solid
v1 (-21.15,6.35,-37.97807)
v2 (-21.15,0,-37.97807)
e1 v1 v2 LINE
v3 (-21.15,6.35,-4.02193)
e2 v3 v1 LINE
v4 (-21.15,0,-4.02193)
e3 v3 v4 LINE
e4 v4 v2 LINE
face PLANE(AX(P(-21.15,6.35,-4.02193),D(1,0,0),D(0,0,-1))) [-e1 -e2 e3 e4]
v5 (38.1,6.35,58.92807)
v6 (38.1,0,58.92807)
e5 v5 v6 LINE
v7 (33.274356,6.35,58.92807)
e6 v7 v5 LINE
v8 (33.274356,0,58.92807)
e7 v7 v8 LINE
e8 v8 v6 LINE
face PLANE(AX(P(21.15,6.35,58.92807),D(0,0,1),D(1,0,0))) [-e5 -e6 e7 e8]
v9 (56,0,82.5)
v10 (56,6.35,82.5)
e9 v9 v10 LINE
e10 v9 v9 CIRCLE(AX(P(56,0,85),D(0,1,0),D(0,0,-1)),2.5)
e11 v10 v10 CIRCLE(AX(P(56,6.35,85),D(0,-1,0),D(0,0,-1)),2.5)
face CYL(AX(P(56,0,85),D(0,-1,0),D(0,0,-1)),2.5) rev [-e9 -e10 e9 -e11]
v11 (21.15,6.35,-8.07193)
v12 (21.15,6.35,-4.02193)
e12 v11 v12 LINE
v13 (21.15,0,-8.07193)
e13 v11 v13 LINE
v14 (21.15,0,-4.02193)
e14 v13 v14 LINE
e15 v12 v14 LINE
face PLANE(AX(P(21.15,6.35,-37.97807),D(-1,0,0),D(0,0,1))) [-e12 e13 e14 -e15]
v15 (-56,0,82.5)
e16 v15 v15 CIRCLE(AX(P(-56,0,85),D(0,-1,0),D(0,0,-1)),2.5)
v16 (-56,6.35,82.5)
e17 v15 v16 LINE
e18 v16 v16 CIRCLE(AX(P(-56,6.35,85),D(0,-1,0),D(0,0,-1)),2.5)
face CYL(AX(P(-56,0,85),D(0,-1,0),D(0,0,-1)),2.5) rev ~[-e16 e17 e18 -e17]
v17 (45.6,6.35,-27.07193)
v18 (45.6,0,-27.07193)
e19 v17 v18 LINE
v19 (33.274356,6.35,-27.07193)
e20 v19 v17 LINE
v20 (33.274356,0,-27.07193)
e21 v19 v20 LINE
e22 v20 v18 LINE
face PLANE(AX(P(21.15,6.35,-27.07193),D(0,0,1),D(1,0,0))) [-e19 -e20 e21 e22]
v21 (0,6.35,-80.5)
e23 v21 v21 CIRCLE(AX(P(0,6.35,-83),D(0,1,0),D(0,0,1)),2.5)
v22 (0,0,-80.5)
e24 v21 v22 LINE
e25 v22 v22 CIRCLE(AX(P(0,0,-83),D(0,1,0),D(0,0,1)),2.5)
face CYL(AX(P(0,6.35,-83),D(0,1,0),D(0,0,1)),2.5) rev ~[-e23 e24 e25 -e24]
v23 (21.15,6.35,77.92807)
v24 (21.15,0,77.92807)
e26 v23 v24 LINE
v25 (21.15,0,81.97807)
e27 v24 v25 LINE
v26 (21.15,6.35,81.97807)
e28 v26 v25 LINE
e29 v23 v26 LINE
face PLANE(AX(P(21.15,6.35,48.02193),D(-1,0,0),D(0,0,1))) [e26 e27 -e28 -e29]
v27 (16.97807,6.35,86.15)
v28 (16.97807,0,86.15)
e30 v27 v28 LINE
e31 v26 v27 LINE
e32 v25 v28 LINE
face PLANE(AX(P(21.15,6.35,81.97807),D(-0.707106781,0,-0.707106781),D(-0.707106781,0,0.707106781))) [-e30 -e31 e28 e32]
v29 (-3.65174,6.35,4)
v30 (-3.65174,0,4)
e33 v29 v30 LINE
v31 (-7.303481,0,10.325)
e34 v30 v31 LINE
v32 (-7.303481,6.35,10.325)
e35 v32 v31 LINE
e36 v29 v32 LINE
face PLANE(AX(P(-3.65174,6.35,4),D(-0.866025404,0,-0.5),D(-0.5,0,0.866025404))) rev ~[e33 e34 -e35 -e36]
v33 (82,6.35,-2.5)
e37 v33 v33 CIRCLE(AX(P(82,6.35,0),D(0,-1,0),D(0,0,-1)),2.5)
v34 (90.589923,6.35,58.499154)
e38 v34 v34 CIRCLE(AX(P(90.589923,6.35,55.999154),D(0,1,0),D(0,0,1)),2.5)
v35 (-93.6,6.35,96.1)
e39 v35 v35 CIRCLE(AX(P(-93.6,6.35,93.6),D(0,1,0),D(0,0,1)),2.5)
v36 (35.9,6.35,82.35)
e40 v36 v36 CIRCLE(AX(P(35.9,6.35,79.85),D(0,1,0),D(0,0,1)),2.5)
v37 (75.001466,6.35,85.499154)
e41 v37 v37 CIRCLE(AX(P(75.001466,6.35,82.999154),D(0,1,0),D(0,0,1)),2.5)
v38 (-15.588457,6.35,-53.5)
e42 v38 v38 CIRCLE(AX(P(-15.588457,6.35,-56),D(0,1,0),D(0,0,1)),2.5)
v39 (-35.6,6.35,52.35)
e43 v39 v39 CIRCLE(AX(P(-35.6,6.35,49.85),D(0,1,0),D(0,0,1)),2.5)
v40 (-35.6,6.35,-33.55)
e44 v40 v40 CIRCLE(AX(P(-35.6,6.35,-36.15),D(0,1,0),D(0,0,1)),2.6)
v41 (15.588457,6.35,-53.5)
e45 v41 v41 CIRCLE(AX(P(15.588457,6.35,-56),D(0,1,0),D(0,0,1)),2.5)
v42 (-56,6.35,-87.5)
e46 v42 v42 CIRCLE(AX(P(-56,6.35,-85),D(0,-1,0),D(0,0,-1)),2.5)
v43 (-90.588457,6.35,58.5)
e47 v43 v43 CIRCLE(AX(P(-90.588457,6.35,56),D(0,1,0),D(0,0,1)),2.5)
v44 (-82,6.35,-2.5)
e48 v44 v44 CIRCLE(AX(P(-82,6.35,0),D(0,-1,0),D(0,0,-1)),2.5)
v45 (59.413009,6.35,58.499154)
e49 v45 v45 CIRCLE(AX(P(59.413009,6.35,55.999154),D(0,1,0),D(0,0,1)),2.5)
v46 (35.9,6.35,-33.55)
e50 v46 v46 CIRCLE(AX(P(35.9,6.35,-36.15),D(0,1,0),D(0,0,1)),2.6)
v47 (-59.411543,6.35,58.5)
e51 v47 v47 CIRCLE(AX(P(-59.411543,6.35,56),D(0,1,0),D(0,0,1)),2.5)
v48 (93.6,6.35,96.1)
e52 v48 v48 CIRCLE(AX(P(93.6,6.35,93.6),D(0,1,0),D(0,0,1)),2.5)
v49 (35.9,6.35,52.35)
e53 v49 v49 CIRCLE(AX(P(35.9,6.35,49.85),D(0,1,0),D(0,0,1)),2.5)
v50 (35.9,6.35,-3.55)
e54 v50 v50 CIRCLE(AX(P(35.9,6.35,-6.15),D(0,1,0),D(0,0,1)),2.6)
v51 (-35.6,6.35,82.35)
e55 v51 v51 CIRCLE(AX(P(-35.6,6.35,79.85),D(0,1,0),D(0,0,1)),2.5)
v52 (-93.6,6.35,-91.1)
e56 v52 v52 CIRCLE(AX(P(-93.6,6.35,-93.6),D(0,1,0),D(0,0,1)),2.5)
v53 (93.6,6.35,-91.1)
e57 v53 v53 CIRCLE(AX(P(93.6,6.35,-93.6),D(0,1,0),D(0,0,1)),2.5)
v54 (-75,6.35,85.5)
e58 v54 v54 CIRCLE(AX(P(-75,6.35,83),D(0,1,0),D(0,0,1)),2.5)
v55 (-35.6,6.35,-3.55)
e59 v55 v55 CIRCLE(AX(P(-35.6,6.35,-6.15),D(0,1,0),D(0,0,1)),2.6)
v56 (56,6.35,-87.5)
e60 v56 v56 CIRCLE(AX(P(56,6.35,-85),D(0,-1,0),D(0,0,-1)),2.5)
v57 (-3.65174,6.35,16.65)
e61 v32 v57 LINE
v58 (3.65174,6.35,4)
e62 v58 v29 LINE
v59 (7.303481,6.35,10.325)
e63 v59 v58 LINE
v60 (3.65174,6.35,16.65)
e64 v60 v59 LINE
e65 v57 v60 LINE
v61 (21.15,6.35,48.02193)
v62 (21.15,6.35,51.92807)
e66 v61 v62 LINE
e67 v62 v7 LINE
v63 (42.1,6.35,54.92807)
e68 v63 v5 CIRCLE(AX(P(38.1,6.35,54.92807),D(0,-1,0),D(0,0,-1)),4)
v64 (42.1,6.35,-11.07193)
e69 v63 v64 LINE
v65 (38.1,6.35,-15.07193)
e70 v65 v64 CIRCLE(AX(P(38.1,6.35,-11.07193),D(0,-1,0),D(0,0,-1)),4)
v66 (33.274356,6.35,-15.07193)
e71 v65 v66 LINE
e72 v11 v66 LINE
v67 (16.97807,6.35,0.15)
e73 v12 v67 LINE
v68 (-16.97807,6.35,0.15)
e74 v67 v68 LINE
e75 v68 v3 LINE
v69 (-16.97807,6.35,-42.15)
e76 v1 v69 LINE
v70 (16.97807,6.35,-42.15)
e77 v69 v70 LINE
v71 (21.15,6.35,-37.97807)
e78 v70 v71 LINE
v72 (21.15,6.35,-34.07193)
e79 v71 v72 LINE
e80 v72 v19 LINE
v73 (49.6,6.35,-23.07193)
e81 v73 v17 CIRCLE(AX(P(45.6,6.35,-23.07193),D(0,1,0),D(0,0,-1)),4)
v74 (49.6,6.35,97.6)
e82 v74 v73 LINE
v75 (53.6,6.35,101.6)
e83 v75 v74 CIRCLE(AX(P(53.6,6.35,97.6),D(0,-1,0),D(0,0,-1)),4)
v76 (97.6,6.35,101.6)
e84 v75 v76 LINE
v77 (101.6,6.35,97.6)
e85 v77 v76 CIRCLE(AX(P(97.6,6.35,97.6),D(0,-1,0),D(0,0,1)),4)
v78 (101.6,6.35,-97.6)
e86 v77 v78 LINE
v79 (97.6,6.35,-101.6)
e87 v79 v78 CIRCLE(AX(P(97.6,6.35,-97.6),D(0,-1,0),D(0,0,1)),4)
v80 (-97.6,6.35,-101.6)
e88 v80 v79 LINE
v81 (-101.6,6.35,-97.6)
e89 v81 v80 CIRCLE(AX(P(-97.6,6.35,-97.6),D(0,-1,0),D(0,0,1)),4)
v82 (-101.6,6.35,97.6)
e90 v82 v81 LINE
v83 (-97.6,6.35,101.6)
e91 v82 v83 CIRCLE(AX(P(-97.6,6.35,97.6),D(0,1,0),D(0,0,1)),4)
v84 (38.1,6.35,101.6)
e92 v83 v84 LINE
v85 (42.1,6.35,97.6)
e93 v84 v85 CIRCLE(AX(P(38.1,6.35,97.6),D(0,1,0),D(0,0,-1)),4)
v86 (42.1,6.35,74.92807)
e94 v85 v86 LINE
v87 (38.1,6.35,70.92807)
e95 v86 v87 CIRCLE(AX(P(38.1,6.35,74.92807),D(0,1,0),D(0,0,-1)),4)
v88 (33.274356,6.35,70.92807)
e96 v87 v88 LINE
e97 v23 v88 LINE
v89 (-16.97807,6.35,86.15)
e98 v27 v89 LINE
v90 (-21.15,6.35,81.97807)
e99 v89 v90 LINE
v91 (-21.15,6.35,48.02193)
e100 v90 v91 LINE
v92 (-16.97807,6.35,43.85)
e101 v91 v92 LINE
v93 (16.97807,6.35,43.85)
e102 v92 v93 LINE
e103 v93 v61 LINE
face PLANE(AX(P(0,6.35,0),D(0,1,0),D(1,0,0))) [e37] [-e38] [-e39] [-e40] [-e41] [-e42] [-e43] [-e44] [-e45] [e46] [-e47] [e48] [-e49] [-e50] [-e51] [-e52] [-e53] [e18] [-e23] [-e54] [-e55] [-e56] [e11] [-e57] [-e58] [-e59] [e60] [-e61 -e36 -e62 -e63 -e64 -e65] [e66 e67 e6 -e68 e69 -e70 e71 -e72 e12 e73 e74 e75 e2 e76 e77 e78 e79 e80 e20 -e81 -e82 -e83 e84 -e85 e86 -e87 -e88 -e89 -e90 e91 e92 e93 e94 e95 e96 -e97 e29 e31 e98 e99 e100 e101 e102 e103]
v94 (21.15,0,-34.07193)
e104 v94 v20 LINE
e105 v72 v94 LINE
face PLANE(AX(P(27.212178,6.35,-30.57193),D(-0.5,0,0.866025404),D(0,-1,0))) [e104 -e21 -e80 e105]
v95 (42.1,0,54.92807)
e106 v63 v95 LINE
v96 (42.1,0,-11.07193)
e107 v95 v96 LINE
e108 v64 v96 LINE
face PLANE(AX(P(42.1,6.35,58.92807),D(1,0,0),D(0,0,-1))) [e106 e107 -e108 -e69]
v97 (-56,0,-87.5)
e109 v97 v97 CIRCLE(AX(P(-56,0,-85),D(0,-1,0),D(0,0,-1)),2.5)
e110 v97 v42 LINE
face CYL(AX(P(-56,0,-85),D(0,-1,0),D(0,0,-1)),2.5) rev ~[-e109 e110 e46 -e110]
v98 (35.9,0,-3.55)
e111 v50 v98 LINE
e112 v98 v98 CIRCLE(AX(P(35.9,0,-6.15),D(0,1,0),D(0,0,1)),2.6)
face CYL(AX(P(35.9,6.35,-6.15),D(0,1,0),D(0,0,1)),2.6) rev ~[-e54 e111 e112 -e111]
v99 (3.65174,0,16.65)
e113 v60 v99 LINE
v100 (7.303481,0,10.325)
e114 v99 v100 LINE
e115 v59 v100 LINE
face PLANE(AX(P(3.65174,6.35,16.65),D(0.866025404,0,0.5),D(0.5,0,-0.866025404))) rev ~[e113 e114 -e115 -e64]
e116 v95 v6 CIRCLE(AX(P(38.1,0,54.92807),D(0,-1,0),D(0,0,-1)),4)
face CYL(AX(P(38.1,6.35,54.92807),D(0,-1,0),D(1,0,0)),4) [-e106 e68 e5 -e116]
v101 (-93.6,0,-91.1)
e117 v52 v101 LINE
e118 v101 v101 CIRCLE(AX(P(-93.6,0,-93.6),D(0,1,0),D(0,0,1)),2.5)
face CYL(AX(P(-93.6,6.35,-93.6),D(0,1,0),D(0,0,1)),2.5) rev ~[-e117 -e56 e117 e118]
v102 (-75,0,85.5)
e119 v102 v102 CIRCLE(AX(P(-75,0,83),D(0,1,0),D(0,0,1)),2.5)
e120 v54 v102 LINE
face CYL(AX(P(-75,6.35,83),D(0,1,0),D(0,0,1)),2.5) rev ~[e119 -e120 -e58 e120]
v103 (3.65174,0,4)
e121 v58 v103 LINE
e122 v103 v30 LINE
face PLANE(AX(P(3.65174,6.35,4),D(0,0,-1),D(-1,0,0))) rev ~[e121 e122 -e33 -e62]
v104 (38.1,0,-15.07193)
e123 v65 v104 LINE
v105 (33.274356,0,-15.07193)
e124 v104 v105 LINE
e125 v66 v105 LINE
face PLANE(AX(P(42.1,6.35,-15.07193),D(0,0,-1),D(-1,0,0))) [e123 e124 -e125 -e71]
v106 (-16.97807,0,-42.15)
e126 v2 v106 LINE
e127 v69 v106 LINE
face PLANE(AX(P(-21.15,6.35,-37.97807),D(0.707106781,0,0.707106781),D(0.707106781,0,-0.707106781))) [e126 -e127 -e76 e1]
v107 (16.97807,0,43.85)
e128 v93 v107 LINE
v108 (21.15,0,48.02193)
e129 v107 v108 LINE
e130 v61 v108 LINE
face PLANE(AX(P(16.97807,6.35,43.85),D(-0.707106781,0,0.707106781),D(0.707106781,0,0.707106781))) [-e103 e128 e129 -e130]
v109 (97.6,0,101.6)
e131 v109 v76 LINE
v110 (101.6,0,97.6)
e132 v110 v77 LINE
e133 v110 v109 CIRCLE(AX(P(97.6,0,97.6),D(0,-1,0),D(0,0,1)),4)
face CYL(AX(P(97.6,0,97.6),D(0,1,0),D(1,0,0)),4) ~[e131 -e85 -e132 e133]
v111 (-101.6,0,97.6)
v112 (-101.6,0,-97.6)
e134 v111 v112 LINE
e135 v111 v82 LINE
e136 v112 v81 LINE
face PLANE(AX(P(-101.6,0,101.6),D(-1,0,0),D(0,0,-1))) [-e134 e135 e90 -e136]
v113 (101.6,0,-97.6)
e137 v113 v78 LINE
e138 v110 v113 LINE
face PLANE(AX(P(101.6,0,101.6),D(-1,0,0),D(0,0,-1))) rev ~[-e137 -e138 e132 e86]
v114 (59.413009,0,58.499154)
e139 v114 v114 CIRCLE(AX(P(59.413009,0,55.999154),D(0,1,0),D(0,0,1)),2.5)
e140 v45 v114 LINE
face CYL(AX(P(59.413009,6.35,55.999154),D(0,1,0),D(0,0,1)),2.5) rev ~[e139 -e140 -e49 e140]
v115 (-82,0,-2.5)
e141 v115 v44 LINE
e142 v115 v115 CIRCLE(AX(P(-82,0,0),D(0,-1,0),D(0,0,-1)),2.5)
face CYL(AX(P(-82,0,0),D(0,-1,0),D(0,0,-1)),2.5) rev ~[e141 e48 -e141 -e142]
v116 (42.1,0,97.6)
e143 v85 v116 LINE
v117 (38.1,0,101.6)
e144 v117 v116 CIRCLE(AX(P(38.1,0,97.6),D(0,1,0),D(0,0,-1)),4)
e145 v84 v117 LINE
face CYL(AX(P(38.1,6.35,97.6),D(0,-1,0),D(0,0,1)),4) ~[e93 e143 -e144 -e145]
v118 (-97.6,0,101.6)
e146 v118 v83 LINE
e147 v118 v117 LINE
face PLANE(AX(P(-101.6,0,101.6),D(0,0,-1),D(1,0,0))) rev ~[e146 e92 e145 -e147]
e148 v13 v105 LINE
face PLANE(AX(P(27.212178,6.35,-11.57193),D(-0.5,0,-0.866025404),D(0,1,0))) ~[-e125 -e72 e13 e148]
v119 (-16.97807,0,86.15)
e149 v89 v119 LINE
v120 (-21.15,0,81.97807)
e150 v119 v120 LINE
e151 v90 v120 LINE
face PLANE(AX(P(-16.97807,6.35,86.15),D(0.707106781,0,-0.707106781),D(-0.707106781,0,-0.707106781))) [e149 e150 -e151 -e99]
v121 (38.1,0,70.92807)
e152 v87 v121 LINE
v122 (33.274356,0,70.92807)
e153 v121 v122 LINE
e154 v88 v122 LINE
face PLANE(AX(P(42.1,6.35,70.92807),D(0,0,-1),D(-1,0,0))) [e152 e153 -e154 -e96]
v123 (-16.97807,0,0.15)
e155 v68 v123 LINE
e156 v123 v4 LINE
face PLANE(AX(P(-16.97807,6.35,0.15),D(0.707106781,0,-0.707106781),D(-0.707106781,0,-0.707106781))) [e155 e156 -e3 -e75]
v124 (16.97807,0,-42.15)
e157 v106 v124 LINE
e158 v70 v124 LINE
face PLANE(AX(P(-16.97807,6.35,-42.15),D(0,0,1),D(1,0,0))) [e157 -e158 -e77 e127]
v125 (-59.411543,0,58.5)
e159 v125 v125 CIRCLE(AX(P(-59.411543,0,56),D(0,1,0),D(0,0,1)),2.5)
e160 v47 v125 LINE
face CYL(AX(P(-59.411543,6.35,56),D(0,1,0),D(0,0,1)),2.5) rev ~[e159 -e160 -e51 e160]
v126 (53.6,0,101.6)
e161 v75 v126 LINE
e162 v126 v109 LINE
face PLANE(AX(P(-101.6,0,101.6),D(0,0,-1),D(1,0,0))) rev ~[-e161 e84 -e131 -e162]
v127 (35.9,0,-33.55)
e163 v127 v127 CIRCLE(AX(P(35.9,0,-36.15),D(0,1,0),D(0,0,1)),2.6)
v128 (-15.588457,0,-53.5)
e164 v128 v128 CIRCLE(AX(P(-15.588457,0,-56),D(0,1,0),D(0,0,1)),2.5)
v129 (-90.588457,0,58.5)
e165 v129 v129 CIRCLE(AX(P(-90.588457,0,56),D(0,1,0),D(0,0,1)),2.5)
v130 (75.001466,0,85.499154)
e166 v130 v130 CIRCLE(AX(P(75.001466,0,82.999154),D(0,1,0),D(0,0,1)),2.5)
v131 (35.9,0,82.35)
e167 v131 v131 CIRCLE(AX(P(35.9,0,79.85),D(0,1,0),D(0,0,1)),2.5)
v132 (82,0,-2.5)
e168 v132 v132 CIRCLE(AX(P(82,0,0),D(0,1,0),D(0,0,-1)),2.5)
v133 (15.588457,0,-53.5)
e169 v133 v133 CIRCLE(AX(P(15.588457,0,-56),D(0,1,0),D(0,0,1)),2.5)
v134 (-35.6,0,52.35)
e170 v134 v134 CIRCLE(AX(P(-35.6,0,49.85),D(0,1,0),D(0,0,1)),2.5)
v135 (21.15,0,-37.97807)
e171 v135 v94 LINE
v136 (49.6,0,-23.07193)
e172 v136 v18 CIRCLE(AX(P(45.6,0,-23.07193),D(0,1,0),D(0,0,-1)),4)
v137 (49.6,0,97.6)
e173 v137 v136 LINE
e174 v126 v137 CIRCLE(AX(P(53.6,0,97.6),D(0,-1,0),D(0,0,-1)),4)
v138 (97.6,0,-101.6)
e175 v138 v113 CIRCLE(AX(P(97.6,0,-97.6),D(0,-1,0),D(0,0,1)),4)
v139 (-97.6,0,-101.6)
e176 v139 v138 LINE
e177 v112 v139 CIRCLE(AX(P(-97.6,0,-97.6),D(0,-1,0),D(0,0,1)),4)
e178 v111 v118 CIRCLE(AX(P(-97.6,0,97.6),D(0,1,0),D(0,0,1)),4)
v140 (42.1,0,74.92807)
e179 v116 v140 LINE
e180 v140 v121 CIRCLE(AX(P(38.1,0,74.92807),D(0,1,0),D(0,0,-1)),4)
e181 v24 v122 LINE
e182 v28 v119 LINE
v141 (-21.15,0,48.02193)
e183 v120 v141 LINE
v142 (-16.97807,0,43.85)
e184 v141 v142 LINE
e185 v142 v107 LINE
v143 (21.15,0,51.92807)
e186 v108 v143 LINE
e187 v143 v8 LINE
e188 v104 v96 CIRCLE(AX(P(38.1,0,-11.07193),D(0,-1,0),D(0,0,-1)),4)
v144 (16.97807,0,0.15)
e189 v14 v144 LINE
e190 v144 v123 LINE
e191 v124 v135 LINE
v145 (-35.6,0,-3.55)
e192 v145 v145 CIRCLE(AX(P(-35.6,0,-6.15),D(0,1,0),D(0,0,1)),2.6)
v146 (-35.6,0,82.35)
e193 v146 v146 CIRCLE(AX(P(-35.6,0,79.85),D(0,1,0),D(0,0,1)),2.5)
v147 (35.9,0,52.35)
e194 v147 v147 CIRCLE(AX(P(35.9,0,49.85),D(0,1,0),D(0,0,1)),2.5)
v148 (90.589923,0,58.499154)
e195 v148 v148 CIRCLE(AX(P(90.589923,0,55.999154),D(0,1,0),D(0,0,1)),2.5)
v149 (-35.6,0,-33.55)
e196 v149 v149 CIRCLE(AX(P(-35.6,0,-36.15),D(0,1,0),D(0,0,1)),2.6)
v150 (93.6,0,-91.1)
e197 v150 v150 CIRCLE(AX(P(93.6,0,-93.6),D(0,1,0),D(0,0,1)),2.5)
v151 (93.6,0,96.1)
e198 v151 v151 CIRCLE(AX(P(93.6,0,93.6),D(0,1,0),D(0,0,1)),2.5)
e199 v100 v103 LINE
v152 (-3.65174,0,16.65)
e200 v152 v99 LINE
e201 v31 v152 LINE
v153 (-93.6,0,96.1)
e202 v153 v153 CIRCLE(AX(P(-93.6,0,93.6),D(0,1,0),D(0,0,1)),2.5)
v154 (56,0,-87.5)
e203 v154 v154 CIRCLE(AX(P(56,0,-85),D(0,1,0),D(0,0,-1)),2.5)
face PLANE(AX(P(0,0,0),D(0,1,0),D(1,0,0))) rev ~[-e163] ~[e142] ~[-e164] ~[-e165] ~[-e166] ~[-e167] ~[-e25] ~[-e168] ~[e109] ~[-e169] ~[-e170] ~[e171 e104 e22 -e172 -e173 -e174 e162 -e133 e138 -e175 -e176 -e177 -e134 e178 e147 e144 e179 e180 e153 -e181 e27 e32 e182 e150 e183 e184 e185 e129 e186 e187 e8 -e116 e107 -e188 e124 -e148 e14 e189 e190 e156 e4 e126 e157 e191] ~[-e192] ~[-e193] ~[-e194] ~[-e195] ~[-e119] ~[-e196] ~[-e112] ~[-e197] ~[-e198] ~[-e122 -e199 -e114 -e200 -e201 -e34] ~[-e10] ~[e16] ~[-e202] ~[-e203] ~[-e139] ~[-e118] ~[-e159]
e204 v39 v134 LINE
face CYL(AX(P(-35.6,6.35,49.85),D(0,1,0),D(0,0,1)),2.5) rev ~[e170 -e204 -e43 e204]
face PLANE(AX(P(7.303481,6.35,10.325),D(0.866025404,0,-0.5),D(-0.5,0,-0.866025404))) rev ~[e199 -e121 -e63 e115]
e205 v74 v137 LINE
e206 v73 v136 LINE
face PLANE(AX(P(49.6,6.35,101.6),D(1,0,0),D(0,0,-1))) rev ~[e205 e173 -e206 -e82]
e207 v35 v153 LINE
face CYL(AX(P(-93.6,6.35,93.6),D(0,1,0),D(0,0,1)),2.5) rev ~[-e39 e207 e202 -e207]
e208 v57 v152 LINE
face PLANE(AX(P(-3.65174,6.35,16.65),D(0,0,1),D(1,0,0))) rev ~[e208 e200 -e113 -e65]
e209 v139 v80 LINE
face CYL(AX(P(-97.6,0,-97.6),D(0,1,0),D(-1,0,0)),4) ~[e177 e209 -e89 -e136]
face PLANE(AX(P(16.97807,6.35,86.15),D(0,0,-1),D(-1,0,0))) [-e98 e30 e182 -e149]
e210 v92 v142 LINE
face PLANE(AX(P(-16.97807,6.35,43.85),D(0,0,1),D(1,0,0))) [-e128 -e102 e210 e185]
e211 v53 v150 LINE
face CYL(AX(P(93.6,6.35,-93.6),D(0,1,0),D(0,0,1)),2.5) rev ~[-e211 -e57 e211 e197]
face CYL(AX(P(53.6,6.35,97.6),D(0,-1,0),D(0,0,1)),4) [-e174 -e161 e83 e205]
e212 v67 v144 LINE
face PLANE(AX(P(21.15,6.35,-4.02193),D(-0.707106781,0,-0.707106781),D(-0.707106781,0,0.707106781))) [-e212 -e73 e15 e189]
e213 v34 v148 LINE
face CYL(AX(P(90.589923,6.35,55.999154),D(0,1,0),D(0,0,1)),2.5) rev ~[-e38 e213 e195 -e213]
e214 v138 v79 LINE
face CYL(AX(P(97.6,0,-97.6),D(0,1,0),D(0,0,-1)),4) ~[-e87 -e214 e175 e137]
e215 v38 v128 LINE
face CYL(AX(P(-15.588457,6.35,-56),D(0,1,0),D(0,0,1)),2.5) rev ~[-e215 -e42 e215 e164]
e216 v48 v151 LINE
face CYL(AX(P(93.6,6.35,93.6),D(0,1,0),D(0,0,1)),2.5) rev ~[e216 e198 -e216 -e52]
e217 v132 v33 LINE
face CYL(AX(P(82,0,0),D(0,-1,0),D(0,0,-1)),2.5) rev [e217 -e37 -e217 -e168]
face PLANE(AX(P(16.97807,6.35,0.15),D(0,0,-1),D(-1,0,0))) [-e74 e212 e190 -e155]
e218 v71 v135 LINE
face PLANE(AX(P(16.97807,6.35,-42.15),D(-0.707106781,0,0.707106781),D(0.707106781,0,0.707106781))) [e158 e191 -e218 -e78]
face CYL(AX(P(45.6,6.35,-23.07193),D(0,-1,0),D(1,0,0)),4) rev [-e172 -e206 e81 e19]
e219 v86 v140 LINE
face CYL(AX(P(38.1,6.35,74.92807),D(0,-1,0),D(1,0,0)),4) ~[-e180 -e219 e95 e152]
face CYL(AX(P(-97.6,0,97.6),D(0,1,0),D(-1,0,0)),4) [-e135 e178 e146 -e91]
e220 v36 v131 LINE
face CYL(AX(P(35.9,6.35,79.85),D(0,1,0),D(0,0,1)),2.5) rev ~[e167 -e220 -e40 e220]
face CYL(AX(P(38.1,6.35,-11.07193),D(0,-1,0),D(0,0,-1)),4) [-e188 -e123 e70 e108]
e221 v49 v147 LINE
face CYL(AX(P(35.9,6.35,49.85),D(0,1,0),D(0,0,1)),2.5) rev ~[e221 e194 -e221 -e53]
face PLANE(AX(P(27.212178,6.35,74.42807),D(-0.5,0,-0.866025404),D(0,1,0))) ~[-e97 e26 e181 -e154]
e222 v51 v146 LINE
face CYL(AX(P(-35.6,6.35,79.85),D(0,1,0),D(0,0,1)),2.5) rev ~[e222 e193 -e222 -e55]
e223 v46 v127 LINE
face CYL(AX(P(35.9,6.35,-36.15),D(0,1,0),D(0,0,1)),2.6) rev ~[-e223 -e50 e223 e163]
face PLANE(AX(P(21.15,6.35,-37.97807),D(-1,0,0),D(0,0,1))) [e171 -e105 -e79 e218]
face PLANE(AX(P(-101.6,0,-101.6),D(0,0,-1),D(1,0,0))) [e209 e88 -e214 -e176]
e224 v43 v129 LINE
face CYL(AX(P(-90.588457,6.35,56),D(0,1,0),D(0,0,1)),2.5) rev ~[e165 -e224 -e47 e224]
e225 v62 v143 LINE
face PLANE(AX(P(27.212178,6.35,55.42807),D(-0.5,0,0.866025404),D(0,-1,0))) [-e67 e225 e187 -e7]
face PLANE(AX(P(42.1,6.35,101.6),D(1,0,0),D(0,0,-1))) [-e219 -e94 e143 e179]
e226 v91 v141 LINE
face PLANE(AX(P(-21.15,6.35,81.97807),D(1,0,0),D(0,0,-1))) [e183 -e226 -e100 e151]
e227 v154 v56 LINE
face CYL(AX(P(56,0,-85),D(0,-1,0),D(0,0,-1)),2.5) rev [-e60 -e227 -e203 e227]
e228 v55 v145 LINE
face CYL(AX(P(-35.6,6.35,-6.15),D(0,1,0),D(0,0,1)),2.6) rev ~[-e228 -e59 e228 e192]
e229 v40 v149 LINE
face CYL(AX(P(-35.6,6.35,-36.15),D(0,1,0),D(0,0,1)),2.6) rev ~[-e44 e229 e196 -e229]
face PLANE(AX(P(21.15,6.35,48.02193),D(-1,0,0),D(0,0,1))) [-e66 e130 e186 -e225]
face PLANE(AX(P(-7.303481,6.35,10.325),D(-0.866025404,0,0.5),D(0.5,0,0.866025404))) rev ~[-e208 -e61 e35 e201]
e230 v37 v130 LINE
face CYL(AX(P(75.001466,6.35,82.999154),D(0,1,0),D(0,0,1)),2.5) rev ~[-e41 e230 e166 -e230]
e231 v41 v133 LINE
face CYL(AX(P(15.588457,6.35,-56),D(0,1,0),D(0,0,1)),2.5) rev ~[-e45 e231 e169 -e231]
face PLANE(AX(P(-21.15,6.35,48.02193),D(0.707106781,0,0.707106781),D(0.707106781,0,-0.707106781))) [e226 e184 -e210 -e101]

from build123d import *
from OCP.BRepFilletAPI import BRepFilletAPI_MakeChamfer

# Parameters (mm, degrees)
ESQUISSE1_W              = 203.2
ESQUISSE1_H              = 203.2
BOSS_EXTRU_1_DEPTH       = 6.35
ESQUISSE2_R              = 2.5
ENL_V_MAT_EXTRU_1_DEPTH  = 144.824345992
ESQUISSE3_R              = 2.5
ENL_V_MAT_EXTRU_2_DEPTH  = 144.824345992
ESQUISSE4_R              = 2.5
ENL_V_MAT_EXTRU_3_DEPTH  = 144.824345992
ESQUISSE6_R              = 2.5
ENL_V_MAT_EXTRU_5_DEPTH  = 144.824345992
ENL_V_MAT_EXTRU_9_DEPTH  = 144.824345992
ENL_V_MAT_EXTRU_4_DEPTH  = 144.824345992
ENL_V_MAT_EXTRU_7_DEPTH  = 144.824345992
ENL_V_MAT_EXTRU_8_DEPTH  = 144.824345992
CONG_2_R                 = 4
ESQUISSE12_R             = 2.6
ENL_V_MAT_EXTRU_10_DEPTH = 144.824345992
CHANFREIN2_SIZE          = 7
CHANFREIN2_SIZE2         = 12.124355653
CHANFREIN3_SIZE          = 7
CHANFREIN3_SIZE2         = 12.124355653


with BuildPart() as part:
    # Esquisse1 → Boss.-Extru.1 (new body)
    with BuildSketch(Plane(origin=(0, 0, 0), x_dir=(1, 0, 0), z_dir=(0, 1, 0))):
        Rectangle(ESQUISSE1_W, ESQUISSE1_H)
    extrude(amount=BOSS_EXTRU_1_DEPTH)

    # Esquisse2 → Enlèv. mat.-Extru.1 (cut, through all)
    with BuildSketch(Plane(origin=(0, 6.35, 0), x_dir=(1, 0, 0), z_dir=(0, 1, 0))):
        with Locations(Location((-35.6, -49.85, 0), (0, 0, 270))):
            Circle(ESQUISSE2_R)
        with Locations(Location((-35.6, -79.85, 0), (0, 0, 270))):
            Circle(ESQUISSE2_R)
        with Locations(Location((35.9, -79.85, 0), (0, 0, 270))):
            Circle(ESQUISSE2_R)
        with Locations(Location((35.9, -49.85, 0), (0, 0, 270))):
            Circle(ESQUISSE2_R)
    extrude(amount=-ENL_V_MAT_EXTRU_1_DEPTH, mode=Mode.SUBTRACT)

    # Esquisse3 → Enlèv. mat.-Extru.2 (cut, through all)
    with BuildSketch(Plane(origin=(0, 6.35, 0), x_dir=(1, 0, 0), z_dir=(0, 1, 0))):
        with Locations(Location((-93.6, 93.6, 0), (0, 0, 270))):
            Circle(ESQUISSE3_R)
        with Locations(Location((93.6, 93.6, 0), (0, 0, 270))):
            Circle(ESQUISSE3_R)
        with Locations(Location((93.6, -93.6, 0), (0, 0, 270))):
            Circle(ESQUISSE3_R)
        with Locations(Location((-93.6, -93.6, 0), (0, 0, 270))):
            Circle(ESQUISSE3_R)
    extrude(amount=-ENL_V_MAT_EXTRU_2_DEPTH, mode=Mode.SUBTRACT)

    # Esquisse4 → Enlèv. mat.-Extru.3 (cut, through all)
    with BuildSketch(Plane(origin=(0, 6.35, 0), x_dir=(1, 0, 0), z_dir=(0, 1, 0))):
        with Locations(Location((15.588457268, 56, 0), (0, 0, 270))):
            Circle(ESQUISSE4_R)
        with Locations(Location((-15.588457268, 56, 0), (0, 0, 270))):
            Circle(ESQUISSE4_R)
        with Locations(Location((0, 83, 0), (0, 0, 270))):
            Circle(ESQUISSE4_R)
        with Locations(Location((-75, -83, 0), (0, 0, 270))):
            Circle(ESQUISSE4_R)
        with Locations(Location((-90.588457268, -56, 0), (0, 0, 270))):
            Circle(ESQUISSE4_R)
        with Locations(Location((-59.411542732, -56, 0), (0, 0, 270))):
            Circle(ESQUISSE4_R)
        with Locations(Location((59.413008586, -55.999154304, 0), (0, 0, 270))):
            Circle(ESQUISSE4_R)
        with Locations(Location((90.589923123, -55.999154304, 0), (0, 0, 270))):
            Circle(ESQUISSE4_R)
        with Locations(Location((75.001465855, -82.999154304, 0), (0, 0, 270))):
            Circle(ESQUISSE4_R)
    extrude(amount=-ENL_V_MAT_EXTRU_3_DEPTH, mode=Mode.SUBTRACT)

    # Esquisse6 → Enlèv. mat.-Extru.5 (cut, through all)
    with BuildSketch(Plane.XZ):
        with Locations(Location((-56, 85, 0), (0, 0, 270))):
            Circle(ESQUISSE6_R)
        with Locations(Location((-56, -85, 0), (0, 0, 270))):
            Circle(ESQUISSE6_R)
        with Locations(Location((-82, 0, 0), (0, 0, 270))):
            Circle(ESQUISSE6_R)
    enl_v_mat_extru_5 = extrude(amount=-ENL_V_MAT_EXTRU_5_DEPTH, mode=Mode.SUBTRACT)

    # Symétrie1: Enlèv. mat.-Extru.5 across plane
    add(enl_v_mat_extru_5.mirror(Plane(origin=(0, 0, 0), x_dir=(0, 0, 1), z_dir=(1, 0, 0))), mode=Mode.SUBTRACT)

    # Esquisse11 → Enlèv. mat.-Extru.9 (cut, through all)
    with BuildSketch(Plane(origin=(0, 6.35, 0), x_dir=(1, 0, 0), z_dir=(0, 1, 0))):
        Polygon((-16.978069991, 42.150000003), (16.978069991, 42.150000003), (21.15, 37.978069994), (21.15, 4.021930012), (16.978069991, -0.149999997), (-16.978069991, -0.149999997), (-21.15, 4.021930012), (-21.15, 37.978069994), align=None)
    extrude(amount=-ENL_V_MAT_EXTRU_9_DEPTH, mode=Mode.SUBTRACT)

    # Esquisse5 → Enlèv. mat.-Extru.4 (cut, through all)
    with BuildSketch(Plane(origin=(0, 6.35, 0), x_dir=(1, 0, 0), z_dir=(0, 1, 0))):
        Polygon((3.651740453, -4), (-3.651740453, -4), (-7.303480905, -10.325), (-3.651740453, -16.65), (3.651740453, -16.65), (7.303480905, -10.325), align=None)
    extrude(amount=-ENL_V_MAT_EXTRU_4_DEPTH, mode=Mode.SUBTRACT)

    # Esquisse9 → Enlèv. mat.-Extru.7 (cut, through all)
    with BuildSketch(Plane(origin=(0, 6.35, 0), x_dir=(1, 0, 0), z_dir=(0, 1, 0))):
        Polygon((-16.978069991, -43.85), (16.978069991, -43.85), (21.15, -48.021930009), (21.15, -81.978069991), (16.978069991, -86.15), (-16.978069991, -86.15), (-21.15, -81.978069991), (-21.15, -48.021930009), align=None)
    extrude(amount=-ENL_V_MAT_EXTRU_7_DEPTH, mode=Mode.SUBTRACT)

    # Esquisse10 → Enlèv. mat.-Extru.8 (cut, through all)
    with BuildSketch(Plane(origin=(0, 6.35, 0), x_dir=(1, 0, 0), z_dir=(0, 1, 0))):
        Polygon((21.15, -58.928069991), (42.1, -58.928069991), (42.1, 15.071930012), (21.15, 15.071930012), (21.15, 27.071930012), (49.6, 27.071930012), (49.6, 15.071930012), (49.6, -58.928069991), (49.6, -70.928069991), (49.6, -101.6), (42.1, -101.6), (42.1, -70.928069991), (21.15, -70.928069991), align=None)
    extrude(amount=-ENL_V_MAT_EXTRU_8_DEPTH, mode=Mode.SUBTRACT)

    # Congé2
    cong_2_edges = [part.edges().sort_by_distance(p)[0] for p in [
        (42.1, 3.175, 58.928069991),
        (42.1, 3.175, -15.071930012),
        (49.6, 3.175, -27.071930012),
        (49.6, 3.175, 101.6),
        (42.1, 3.175, 101.6),
        (42.1, 3.175, 70.928069991),
        (101.6, 3.175, 101.6),
        (-101.6, 3.175, 101.6),
        (-101.6, 3.175, -101.6),
        (101.6, 3.175, -101.6),
    ]]
    fillet(cong_2_edges, radius=CONG_2_R)

    # Esquisse12 → Enlèv. mat.-Extru.10 (cut, through all)
    with BuildSketch(Plane(origin=(0, 6.35, 0), x_dir=(1, 0, 0), z_dir=(0, 1, 0))):
        with Locations(Location((-35.6, 36.15, 0), (0, 0, 270))):
            Circle(ESQUISSE12_R)
        with Locations(Location((-35.6, 6.15, 0), (0, 0, 270))):
            Circle(ESQUISSE12_R)
        with Locations(Location((35.9, 6.15, 0), (0, 0, 270))):
            Circle(ESQUISSE12_R)
        with Locations(Location((35.9, 36.15, 0), (0, 0, 270))):
            Circle(ESQUISSE12_R)
    extrude(amount=-ENL_V_MAT_EXTRU_10_DEPTH, mode=Mode.SUBTRACT)

    # Chanfrein2: one chamfer whose edges measure the first distance from different faces: ONE call of the kernel's chamfer builder (chamfer() names one face for all edges)
    chanfrein2_edges_1 = [part.edges().sort_by_distance(p)[0] for p in [
        (21.15, 3.175, 70.928069991),
    ]]
    chanfrein2_side_1 = [part.faces().sort_by_distance(p)[0] for p in [
        (21.15, 3.175, 76.453069991),
    ]]
    chanfrein2_edges_2 = [part.edges().sort_by_distance(p)[0] for p in [
        (21.15, 3.175, 58.928069991),
    ]]
    chanfrein2_side_2 = [part.faces().sort_by_distance(p)[0] for p in [
        (21.15, 3.175, 53.475),
    ]]
    chanfrein2 = BRepFilletAPI_MakeChamfer(part.part.solid().wrapped)
    for e in chanfrein2_edges_1:
        chanfrein2.Add(CHANFREIN2_SIZE, CHANFREIN2_SIZE2, e.wrapped, chanfrein2_side_1[0].wrapped)  # the first distance lies on this face
    for e in chanfrein2_edges_2:
        chanfrein2.Add(CHANFREIN2_SIZE, CHANFREIN2_SIZE2, e.wrapped, chanfrein2_side_2[0].wrapped)  # the first distance lies on this face
    add(Compound.cast(chanfrein2.Shape()), mode=Mode.REPLACE)

    # Chanfrein3: one chamfer whose edges measure the first distance from different faces: ONE call of the kernel's chamfer builder (chamfer() names one face for all edges)
    chanfrein3_edges_1 = [part.edges().sort_by_distance(p)[0] for p in [
        (21.15, 3.175, -15.071930012),
    ]]
    chanfrein3_side_1 = [part.faces().sort_by_distance(p)[0] for p in [
        (21.15, 3.175, -9.546930012),
    ]]
    chanfrein3_edges_2 = [part.edges().sort_by_distance(p)[0] for p in [
        (21.15, 3.175, -27.071930012),
    ]]
    chanfrein3_side_2 = [part.faces().sort_by_distance(p)[0] for p in [
        (21.15, 3.175, -32.525000003),
    ]]
    chanfrein3 = BRepFilletAPI_MakeChamfer(part.part.solid().wrapped)
    for e in chanfrein3_edges_1:
        chanfrein3.Add(CHANFREIN3_SIZE, CHANFREIN3_SIZE2, e.wrapped, chanfrein3_side_1[0].wrapped)  # the first distance lies on this face
    for e in chanfrein3_edges_2:
        chanfrein3.Add(CHANFREIN3_SIZE, CHANFREIN3_SIZE2, e.wrapped, chanfrein3_side_2[0].wrapped)  # the first distance lies on this face
    add(Compound.cast(chanfrein3.Shape()), mode=Mode.REPLACE)


solid = part.part
